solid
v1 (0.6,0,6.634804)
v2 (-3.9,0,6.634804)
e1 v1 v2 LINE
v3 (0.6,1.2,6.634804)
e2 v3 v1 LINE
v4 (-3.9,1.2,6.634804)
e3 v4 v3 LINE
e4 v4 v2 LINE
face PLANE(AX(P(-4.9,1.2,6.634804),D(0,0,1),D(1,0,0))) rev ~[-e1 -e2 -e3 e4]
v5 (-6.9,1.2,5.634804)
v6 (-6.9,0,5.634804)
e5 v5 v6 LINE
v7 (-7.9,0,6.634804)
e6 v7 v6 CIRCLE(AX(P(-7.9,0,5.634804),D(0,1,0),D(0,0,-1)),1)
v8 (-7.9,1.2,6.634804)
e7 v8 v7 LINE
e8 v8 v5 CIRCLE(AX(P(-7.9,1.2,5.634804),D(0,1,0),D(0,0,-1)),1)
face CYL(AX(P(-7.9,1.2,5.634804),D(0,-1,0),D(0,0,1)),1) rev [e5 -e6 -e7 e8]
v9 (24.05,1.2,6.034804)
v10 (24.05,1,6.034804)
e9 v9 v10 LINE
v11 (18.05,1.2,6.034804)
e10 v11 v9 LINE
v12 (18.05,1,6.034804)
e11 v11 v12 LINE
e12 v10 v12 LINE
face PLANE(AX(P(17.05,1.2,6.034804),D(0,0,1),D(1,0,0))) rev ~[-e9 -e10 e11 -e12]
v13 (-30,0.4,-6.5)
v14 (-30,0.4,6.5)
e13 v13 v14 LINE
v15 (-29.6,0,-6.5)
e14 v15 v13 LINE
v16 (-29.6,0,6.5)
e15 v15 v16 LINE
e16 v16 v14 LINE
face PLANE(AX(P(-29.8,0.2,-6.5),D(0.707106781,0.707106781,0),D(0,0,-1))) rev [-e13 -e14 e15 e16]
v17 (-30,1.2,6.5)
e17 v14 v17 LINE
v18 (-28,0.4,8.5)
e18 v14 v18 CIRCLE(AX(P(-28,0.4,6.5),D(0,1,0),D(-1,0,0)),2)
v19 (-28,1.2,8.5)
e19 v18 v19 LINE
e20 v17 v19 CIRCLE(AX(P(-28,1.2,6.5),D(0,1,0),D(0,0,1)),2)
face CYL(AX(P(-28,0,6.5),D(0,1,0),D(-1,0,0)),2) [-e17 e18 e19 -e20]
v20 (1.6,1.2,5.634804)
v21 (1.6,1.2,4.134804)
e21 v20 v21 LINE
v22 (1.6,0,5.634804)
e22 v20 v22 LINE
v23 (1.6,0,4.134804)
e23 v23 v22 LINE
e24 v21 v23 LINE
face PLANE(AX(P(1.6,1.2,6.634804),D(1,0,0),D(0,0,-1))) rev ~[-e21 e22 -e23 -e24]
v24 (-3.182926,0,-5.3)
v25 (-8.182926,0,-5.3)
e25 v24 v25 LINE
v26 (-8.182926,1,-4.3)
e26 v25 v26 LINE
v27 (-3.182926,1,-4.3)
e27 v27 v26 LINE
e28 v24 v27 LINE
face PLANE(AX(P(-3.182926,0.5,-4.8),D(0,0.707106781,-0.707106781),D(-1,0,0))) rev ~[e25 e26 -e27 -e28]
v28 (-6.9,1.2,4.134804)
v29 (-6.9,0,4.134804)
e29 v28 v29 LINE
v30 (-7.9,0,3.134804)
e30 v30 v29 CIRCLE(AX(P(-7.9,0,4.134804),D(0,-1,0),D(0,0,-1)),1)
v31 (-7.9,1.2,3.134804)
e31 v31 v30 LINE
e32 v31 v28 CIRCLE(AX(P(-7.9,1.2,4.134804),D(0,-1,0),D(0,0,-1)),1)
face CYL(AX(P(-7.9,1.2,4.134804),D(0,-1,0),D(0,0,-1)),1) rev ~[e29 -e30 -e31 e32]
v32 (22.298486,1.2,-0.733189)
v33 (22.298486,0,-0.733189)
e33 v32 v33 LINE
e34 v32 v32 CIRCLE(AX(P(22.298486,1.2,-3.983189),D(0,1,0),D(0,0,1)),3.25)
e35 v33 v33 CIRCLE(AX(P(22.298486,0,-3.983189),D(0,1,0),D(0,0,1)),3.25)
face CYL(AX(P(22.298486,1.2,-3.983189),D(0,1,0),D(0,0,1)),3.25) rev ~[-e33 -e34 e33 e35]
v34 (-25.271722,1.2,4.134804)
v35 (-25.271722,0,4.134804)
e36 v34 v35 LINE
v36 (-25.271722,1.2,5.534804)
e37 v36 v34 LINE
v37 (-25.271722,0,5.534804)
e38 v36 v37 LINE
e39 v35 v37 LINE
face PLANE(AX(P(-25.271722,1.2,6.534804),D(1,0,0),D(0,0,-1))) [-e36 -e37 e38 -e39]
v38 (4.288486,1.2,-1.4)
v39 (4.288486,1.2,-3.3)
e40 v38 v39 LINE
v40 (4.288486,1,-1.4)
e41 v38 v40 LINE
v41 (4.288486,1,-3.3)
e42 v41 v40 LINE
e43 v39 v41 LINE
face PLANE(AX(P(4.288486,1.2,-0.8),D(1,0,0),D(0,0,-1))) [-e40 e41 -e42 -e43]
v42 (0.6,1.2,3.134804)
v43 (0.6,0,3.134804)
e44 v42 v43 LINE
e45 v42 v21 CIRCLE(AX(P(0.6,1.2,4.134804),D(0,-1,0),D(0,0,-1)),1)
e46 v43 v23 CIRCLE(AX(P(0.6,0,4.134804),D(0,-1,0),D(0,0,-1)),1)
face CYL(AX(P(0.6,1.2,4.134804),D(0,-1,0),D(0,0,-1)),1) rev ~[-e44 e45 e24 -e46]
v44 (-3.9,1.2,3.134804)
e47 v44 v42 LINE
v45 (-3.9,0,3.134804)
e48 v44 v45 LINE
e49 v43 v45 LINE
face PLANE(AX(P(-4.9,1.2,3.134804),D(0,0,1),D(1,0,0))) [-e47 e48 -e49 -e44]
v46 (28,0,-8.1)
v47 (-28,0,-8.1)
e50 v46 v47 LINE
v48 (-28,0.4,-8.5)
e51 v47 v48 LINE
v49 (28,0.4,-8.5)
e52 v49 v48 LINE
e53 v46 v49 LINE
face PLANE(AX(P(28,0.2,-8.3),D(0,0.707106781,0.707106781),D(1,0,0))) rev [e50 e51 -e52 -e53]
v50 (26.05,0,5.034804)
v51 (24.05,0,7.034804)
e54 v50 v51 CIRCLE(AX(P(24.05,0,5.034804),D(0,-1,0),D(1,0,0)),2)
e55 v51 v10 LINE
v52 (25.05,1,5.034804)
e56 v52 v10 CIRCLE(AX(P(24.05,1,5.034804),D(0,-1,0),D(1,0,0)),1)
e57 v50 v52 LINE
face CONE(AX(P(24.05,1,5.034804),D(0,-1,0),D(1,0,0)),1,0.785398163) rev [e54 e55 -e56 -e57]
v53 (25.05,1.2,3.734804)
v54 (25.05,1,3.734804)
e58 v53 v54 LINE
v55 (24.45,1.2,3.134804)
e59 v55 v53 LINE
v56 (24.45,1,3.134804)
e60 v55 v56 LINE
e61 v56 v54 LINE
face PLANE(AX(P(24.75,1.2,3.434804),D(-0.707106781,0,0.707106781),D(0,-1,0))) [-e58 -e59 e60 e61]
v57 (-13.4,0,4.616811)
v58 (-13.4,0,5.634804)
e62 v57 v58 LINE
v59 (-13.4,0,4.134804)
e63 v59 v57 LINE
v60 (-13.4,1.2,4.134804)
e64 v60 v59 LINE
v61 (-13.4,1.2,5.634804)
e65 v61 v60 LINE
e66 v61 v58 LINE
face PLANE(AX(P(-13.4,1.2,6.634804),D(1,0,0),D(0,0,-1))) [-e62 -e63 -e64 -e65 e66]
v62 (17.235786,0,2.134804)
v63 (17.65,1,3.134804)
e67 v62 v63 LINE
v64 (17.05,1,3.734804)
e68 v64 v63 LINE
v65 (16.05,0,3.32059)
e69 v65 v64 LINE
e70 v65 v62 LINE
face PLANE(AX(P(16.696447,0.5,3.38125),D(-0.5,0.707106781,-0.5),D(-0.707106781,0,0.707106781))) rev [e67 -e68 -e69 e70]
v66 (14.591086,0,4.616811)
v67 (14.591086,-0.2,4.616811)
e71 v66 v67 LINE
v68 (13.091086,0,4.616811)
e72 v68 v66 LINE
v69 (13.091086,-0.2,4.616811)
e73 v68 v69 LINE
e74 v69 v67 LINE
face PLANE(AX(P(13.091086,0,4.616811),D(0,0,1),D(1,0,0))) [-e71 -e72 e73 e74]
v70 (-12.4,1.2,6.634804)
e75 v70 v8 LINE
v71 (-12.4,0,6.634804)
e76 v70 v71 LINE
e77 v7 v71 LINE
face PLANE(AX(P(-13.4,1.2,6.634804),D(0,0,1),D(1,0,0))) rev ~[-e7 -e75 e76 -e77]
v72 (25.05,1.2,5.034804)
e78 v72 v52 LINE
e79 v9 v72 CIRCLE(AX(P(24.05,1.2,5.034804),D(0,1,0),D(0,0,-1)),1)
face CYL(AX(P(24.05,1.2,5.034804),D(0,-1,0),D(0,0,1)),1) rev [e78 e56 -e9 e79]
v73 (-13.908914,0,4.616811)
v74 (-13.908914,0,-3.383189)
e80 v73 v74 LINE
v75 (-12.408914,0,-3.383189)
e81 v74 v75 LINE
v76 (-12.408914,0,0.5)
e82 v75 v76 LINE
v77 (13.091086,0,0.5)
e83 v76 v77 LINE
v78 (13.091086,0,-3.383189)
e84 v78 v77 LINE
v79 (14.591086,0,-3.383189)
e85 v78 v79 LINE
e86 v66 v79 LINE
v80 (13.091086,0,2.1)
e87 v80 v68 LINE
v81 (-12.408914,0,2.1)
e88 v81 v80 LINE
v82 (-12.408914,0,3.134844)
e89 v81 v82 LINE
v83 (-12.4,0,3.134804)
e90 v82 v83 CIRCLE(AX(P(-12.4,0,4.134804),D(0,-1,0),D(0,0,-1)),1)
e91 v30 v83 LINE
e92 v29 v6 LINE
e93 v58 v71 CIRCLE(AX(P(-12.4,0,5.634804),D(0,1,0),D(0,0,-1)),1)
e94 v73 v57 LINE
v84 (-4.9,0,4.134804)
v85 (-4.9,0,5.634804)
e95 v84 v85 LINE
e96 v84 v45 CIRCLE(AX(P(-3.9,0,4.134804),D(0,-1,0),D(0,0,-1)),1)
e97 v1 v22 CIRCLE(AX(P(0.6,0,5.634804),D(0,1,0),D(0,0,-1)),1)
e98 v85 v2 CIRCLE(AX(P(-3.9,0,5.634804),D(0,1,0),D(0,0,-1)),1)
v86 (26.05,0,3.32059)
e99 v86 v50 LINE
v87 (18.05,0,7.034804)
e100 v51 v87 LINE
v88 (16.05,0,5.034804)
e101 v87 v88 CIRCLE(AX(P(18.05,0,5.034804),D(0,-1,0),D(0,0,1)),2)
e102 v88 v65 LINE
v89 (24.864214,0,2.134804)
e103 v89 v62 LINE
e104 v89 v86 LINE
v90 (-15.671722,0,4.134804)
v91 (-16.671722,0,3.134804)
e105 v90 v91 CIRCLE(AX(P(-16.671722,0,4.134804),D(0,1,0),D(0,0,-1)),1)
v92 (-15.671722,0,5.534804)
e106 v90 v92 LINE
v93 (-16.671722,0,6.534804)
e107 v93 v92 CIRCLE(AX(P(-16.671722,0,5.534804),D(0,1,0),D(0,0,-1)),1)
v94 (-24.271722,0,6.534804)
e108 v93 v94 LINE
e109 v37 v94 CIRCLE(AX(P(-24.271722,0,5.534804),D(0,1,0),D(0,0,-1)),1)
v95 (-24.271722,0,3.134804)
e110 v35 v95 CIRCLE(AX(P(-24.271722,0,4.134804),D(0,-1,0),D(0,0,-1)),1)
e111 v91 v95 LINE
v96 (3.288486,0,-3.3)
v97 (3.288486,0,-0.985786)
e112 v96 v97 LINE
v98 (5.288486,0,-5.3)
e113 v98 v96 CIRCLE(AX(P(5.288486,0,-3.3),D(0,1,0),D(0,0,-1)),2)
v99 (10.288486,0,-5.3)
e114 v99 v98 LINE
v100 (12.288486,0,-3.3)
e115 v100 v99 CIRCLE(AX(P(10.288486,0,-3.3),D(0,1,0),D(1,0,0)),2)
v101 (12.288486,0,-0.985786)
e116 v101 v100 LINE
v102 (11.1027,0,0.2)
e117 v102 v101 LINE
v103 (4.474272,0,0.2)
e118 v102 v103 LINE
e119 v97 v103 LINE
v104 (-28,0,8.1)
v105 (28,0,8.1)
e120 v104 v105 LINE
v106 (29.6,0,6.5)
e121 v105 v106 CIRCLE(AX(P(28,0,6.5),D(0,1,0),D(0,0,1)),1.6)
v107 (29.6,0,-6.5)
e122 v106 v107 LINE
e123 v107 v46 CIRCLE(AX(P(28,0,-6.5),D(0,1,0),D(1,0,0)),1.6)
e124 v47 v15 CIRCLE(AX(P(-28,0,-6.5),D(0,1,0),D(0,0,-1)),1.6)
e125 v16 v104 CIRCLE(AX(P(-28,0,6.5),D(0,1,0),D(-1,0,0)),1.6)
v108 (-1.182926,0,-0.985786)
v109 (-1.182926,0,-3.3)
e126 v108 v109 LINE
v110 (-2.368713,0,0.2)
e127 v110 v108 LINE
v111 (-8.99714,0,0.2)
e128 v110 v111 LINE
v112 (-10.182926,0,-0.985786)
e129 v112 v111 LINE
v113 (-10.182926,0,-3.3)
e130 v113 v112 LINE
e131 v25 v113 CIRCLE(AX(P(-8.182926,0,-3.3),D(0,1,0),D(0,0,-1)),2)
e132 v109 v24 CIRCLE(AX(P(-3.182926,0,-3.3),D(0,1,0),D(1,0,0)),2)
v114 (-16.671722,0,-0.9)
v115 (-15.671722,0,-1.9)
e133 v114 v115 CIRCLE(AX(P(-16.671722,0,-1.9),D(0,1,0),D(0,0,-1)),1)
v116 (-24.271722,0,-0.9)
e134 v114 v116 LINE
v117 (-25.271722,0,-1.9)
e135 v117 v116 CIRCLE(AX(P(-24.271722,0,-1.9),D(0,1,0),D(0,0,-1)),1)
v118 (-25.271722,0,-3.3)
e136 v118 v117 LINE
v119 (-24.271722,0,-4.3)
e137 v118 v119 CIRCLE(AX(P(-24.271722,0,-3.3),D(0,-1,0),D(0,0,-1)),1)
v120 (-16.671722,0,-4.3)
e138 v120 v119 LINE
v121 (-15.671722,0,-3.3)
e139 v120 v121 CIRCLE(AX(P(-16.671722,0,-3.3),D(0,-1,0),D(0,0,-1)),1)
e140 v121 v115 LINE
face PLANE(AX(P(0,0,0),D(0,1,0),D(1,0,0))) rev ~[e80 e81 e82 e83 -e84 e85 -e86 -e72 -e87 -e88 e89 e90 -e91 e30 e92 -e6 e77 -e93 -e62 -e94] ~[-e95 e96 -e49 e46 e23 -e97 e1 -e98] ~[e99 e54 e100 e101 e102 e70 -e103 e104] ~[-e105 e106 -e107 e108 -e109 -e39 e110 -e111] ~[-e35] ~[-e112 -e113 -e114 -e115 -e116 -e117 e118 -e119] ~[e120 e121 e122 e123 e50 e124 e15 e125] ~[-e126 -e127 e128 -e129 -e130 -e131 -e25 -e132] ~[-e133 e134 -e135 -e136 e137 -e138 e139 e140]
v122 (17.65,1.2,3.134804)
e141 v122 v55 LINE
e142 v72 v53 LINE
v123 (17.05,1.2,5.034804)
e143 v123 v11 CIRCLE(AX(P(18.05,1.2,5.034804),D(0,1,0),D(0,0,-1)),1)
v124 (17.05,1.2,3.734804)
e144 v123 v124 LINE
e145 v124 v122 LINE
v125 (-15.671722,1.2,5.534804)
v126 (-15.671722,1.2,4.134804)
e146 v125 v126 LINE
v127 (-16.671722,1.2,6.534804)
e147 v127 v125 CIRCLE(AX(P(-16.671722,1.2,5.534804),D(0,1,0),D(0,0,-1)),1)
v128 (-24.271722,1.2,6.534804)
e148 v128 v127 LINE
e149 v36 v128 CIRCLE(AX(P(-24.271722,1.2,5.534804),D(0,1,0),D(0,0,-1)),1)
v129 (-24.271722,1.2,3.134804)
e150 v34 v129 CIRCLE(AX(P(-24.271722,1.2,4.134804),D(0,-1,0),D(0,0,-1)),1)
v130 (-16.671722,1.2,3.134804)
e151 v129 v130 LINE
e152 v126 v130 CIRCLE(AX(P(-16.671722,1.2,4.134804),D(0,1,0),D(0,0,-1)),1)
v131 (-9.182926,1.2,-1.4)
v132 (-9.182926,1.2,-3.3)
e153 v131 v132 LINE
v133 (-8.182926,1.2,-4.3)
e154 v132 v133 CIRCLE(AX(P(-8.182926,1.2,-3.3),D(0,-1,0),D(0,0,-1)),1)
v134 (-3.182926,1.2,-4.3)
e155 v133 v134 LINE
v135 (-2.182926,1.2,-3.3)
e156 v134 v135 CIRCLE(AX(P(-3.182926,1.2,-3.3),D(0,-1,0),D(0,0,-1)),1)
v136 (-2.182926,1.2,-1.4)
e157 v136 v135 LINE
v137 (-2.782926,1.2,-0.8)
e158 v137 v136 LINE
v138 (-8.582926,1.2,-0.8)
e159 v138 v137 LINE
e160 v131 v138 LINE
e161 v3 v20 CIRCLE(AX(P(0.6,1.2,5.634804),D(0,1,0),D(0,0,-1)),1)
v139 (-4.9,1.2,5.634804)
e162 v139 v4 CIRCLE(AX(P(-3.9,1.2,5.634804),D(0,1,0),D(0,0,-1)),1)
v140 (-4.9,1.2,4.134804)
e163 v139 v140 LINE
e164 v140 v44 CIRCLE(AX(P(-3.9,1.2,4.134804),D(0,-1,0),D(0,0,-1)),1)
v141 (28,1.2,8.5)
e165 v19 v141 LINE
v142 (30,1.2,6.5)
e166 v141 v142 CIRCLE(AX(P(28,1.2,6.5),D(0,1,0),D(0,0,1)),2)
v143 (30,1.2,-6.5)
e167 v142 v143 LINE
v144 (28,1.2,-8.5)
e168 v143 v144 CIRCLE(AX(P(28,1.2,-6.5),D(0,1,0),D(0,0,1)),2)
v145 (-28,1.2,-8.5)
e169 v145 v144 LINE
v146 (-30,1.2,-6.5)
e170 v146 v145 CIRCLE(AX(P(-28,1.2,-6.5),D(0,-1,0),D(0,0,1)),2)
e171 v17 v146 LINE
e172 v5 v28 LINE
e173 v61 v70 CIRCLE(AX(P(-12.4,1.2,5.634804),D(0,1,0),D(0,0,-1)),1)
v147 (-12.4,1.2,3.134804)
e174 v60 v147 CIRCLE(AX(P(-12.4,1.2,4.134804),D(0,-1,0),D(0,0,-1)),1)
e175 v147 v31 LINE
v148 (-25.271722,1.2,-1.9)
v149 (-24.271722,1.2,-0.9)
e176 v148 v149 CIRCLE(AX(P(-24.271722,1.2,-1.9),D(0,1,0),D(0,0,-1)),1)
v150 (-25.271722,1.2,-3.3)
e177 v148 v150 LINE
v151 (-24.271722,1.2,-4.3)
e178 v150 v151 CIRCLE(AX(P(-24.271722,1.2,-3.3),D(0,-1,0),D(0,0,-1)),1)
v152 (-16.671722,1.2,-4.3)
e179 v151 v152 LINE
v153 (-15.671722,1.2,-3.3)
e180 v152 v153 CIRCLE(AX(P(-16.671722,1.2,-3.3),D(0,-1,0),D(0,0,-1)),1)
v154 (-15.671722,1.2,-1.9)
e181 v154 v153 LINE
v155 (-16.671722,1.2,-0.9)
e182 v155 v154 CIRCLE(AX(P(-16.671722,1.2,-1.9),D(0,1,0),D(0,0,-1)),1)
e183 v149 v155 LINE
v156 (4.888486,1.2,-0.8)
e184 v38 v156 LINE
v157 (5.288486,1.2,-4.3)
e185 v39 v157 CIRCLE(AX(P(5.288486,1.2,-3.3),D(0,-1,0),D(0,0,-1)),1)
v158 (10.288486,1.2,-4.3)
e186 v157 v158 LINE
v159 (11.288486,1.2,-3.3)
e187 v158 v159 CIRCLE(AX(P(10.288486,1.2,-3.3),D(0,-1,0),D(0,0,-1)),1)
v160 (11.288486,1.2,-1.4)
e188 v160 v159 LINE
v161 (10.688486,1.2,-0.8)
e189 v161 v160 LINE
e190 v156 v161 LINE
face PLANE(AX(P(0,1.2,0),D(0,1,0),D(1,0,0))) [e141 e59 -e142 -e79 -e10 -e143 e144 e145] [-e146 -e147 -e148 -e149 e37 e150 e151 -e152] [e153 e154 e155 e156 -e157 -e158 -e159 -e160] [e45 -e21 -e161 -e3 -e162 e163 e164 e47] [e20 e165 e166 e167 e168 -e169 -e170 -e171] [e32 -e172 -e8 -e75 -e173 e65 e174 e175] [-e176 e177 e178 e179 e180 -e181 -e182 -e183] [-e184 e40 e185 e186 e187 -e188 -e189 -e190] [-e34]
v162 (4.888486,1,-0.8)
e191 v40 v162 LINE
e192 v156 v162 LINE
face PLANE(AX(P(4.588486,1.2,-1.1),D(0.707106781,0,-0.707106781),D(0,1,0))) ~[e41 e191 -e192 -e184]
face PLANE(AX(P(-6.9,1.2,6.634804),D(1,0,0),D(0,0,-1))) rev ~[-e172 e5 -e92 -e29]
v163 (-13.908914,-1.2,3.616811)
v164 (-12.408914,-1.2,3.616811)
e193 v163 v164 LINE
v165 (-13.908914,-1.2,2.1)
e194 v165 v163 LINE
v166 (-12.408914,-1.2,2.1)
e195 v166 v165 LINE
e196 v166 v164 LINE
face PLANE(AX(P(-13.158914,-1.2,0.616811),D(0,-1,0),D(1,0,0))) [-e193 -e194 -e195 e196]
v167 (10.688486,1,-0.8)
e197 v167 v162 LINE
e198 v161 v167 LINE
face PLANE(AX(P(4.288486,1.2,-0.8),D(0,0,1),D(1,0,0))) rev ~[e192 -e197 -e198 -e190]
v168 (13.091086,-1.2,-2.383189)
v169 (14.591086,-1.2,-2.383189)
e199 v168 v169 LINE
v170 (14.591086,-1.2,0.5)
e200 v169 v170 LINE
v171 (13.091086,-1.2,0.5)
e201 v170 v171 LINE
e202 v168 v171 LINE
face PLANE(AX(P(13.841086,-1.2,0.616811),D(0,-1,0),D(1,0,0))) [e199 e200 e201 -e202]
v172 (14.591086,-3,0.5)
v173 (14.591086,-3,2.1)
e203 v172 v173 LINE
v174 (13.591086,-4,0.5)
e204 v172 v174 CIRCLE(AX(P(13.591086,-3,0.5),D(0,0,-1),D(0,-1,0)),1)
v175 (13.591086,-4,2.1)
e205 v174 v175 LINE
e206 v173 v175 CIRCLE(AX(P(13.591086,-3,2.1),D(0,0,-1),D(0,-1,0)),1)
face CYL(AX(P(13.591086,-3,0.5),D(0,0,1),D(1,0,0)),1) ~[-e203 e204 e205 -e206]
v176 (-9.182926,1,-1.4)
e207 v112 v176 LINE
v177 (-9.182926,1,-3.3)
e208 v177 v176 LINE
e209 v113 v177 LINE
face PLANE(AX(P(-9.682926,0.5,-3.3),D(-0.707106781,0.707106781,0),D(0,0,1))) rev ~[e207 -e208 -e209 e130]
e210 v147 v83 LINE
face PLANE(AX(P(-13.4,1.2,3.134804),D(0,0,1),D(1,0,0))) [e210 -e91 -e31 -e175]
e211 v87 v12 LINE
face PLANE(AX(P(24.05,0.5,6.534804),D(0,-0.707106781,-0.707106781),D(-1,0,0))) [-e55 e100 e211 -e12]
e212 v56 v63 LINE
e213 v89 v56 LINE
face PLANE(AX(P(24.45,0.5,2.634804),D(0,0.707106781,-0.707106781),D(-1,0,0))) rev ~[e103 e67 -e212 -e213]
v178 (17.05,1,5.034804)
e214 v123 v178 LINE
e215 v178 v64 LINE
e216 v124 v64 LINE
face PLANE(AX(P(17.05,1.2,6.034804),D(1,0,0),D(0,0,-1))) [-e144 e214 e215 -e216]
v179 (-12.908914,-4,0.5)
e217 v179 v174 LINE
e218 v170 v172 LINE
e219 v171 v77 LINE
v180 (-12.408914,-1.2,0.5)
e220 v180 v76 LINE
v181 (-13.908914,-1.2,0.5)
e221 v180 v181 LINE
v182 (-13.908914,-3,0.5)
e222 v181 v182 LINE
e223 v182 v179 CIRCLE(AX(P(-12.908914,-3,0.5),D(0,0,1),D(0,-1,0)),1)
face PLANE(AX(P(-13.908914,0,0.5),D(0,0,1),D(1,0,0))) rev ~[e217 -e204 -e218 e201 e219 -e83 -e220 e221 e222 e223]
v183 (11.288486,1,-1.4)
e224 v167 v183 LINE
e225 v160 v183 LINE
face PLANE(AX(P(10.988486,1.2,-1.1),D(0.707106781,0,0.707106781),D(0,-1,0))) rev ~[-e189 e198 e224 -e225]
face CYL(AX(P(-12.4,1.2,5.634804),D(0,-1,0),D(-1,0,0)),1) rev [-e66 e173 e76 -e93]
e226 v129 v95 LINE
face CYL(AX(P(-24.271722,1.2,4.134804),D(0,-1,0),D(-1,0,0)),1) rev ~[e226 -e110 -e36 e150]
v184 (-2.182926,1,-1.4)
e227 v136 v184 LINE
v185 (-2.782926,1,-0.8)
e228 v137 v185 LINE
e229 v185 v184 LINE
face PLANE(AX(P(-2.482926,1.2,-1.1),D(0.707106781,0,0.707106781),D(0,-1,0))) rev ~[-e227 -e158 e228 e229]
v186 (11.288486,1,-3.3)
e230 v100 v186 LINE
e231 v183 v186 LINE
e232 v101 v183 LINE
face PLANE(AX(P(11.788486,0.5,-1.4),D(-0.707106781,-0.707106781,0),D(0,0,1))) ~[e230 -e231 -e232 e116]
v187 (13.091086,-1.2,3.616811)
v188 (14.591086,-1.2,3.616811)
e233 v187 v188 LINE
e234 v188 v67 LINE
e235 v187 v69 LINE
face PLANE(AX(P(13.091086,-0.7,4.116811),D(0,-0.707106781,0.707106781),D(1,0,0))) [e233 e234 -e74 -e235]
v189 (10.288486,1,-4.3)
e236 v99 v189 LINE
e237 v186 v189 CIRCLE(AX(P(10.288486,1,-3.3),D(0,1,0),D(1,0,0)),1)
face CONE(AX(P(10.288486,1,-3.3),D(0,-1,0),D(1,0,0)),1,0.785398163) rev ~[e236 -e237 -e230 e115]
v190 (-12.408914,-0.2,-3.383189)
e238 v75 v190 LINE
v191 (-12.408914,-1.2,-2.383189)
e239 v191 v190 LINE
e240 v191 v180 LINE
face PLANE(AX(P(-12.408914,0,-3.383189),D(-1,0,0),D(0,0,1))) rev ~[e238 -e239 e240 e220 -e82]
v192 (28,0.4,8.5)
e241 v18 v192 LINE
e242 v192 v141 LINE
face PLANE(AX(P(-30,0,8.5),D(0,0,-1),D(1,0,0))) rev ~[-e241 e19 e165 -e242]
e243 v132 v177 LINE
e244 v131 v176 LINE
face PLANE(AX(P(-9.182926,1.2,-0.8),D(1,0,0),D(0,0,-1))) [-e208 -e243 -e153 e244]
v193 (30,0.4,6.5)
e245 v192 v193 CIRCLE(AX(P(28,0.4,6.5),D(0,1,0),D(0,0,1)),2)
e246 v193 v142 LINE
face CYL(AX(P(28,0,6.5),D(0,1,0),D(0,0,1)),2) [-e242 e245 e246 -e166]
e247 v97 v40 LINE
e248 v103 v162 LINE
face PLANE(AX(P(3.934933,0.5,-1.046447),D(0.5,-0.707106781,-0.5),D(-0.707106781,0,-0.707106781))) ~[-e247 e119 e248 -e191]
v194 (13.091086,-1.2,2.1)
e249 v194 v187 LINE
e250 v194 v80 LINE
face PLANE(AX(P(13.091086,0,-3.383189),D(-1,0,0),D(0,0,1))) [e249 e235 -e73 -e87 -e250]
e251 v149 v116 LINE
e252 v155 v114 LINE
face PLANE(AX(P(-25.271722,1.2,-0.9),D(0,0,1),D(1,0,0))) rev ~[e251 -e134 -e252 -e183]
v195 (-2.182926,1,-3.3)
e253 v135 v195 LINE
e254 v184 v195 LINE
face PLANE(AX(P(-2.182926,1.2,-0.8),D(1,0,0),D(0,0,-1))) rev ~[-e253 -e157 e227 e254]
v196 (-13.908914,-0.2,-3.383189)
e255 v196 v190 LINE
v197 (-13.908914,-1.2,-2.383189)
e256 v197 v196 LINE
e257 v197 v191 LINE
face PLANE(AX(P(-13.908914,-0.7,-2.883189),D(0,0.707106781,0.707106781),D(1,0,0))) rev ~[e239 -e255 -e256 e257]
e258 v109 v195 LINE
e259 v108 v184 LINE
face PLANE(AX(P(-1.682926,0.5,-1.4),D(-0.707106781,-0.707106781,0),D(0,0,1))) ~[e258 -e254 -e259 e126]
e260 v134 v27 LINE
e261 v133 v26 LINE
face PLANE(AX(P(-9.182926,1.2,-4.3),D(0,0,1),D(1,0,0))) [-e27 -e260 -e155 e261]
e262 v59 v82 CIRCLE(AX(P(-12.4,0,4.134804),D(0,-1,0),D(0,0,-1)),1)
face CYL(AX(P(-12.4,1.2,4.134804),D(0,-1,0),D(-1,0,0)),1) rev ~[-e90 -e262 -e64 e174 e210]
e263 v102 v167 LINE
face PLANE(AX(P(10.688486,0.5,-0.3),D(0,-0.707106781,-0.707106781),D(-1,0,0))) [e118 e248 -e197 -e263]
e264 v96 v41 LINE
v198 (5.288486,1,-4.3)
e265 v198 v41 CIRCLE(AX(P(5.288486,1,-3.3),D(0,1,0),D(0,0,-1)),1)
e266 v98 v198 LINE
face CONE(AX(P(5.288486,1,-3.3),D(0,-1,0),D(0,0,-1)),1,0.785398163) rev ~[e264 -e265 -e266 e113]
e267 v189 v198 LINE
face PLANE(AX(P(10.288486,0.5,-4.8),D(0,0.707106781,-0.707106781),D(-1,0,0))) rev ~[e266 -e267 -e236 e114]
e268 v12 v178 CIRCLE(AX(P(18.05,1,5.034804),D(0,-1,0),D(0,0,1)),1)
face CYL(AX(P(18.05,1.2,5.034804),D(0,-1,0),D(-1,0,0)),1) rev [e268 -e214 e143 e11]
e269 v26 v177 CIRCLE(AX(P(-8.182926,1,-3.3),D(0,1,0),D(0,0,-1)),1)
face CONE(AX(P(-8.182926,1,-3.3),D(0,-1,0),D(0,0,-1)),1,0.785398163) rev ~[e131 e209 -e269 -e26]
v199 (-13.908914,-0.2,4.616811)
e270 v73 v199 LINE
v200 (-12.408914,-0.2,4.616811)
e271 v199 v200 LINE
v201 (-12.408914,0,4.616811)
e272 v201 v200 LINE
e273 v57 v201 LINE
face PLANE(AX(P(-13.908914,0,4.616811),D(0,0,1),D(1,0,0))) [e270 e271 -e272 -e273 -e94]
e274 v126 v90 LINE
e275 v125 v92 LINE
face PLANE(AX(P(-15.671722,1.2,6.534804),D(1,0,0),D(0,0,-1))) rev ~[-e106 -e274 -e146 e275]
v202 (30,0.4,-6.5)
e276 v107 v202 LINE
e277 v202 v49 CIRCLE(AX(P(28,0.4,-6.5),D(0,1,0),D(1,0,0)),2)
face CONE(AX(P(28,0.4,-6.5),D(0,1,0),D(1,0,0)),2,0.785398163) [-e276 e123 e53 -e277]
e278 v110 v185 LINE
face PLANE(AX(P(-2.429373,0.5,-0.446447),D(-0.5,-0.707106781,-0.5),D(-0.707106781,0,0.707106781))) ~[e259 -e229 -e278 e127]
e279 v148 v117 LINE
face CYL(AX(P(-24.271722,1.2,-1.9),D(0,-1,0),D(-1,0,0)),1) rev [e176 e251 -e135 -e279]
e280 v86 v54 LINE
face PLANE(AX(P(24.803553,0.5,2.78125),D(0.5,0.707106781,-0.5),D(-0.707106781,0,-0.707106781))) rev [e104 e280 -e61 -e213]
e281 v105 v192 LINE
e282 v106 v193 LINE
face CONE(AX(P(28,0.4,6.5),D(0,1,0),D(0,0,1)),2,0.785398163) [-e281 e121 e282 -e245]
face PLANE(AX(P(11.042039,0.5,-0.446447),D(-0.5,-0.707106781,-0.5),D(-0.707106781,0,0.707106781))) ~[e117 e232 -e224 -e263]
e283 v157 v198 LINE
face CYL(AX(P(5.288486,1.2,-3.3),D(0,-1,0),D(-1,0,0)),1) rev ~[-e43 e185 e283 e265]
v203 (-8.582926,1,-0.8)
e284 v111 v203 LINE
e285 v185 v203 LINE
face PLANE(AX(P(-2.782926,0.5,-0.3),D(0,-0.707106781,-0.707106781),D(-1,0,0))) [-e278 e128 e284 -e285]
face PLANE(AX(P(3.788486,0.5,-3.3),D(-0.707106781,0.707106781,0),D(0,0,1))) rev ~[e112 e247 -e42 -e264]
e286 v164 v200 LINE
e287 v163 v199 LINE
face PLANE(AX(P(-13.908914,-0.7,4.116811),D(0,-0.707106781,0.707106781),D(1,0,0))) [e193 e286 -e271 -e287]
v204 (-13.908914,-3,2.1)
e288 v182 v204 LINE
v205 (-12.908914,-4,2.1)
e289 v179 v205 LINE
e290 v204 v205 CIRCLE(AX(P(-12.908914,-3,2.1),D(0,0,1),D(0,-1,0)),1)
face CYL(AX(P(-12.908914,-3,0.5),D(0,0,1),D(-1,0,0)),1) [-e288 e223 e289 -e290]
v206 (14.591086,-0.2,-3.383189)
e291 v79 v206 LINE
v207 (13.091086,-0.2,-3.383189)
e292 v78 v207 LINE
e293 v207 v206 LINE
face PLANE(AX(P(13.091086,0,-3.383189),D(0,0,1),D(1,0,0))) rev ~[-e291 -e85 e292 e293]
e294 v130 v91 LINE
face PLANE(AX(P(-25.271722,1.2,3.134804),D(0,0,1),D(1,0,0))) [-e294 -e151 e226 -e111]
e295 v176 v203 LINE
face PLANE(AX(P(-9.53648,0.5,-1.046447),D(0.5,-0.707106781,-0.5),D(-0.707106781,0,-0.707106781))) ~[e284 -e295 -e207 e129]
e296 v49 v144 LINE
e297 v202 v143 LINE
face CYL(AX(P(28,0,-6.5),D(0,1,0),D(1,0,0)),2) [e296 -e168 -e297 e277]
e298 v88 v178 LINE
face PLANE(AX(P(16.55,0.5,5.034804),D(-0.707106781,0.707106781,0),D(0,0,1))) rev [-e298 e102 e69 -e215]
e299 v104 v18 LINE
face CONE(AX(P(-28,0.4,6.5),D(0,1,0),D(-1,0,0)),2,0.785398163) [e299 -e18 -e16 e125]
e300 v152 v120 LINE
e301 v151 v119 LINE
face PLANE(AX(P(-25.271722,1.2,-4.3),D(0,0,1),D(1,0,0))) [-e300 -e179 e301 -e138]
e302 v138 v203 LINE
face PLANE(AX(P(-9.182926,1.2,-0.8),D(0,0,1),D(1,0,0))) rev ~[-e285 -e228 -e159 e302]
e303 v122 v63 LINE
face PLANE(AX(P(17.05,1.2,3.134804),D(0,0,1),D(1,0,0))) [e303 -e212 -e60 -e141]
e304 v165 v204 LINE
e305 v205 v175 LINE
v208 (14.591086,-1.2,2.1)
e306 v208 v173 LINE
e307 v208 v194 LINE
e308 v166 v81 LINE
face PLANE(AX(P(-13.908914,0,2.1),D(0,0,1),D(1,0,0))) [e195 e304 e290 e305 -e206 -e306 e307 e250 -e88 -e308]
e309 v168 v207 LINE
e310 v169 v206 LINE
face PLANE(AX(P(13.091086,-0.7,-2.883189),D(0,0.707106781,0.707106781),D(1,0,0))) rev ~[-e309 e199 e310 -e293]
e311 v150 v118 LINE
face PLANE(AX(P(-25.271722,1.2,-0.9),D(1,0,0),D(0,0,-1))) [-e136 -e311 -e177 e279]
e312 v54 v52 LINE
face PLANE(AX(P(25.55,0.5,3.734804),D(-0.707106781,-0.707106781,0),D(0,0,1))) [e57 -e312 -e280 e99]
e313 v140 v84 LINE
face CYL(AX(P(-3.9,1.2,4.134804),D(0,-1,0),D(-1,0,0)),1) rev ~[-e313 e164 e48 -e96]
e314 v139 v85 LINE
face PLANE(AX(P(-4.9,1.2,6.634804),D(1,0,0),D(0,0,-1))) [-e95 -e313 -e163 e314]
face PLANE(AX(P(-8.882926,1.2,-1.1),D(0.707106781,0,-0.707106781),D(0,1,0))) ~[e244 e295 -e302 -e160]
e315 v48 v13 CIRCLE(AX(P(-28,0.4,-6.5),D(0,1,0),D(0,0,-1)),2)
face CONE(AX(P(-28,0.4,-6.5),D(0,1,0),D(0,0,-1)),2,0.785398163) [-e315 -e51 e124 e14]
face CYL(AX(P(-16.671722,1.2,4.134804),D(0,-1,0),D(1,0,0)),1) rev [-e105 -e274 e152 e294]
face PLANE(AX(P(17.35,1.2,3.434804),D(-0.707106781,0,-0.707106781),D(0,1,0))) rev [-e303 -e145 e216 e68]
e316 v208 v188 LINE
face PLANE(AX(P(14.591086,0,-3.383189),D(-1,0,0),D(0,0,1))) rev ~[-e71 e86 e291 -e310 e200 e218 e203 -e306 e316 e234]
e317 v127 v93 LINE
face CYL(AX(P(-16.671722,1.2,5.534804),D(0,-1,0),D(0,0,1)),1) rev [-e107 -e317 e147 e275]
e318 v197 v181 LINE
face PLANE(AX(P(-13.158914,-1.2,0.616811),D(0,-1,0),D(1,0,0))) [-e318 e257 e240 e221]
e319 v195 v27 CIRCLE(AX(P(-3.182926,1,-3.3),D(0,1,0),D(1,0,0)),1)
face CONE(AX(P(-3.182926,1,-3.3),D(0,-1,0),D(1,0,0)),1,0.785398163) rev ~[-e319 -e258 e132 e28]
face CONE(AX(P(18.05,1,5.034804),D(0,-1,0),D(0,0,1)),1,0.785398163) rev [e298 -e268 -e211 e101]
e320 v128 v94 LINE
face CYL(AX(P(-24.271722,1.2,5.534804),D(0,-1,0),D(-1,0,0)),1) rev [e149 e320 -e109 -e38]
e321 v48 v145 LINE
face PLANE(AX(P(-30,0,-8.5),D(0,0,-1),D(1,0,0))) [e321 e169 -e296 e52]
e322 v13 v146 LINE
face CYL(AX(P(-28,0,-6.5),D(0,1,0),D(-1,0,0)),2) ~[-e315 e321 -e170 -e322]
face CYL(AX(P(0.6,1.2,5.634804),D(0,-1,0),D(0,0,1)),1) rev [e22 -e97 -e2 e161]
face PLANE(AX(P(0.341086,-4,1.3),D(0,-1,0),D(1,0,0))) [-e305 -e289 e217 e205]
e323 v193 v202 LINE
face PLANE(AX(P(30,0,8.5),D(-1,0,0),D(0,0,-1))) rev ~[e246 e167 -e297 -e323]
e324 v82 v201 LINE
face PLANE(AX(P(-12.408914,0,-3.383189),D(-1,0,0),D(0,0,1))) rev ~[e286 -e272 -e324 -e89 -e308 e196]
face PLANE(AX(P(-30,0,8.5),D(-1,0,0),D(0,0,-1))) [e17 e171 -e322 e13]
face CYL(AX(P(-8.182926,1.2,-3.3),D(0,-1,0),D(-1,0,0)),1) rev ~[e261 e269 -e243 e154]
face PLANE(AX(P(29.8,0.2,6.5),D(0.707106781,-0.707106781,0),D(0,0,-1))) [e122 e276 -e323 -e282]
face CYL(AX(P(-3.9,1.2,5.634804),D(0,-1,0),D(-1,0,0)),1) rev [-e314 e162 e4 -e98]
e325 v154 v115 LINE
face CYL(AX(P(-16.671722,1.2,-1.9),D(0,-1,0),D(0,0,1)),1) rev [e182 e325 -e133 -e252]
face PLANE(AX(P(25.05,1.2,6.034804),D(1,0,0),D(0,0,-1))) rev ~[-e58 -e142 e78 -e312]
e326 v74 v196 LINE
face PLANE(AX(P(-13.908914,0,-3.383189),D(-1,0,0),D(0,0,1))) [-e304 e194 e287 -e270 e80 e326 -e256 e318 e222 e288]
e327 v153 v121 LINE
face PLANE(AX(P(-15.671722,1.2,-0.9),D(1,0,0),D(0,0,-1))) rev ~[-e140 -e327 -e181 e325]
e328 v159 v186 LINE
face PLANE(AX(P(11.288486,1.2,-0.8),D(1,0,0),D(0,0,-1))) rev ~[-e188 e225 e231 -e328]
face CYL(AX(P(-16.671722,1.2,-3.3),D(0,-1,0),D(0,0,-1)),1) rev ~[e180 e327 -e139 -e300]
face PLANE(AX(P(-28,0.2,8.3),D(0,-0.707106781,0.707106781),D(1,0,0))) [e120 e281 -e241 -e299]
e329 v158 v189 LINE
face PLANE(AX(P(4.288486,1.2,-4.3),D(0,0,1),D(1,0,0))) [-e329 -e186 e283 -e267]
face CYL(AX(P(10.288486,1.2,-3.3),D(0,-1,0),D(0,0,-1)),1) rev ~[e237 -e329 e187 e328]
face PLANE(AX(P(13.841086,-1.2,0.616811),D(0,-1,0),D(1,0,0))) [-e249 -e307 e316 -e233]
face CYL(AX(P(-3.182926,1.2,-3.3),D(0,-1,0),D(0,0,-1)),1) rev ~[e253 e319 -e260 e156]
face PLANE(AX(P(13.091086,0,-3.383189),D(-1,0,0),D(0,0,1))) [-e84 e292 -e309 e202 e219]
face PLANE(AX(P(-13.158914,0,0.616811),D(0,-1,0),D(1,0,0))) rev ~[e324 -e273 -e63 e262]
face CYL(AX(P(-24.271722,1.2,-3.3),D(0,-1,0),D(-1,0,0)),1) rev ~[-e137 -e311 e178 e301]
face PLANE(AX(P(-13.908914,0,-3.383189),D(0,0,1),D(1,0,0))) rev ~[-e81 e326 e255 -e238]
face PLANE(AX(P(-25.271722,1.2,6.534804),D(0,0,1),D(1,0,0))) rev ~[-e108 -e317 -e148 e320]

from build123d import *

# Parameters (mm, degrees)
SKETCH_1_W          = 60
SKETCH_1_H          = 17
EXTRUDE_1_DEPTH     = 1.2
CUT_EXTRUDE_1_REACH = 33.204
SKETCH_4_R          = 3.25
SKETCH_4_W          = 9.6
SKETCH_4_H          = 3.4
SKETCH_4_W_2        = 7
SKETCH_4_H_2        = 3.5
SKETCH_4_W_3        = 8
SKETCH_4_H_3        = 2.9
SKETCH_4_W_4        = 6.5
FILLET_2_R          = 1
CHAMFER_1_SIZE      = 0.6
SKETCH_5_W          = 1.5
SKETCH_5_H          = 8
EXTRUDE_2_DEPTH     = 1.2
SKETCH_6_W          = 28.5
SKETCH_6_H          = 1.6
EXTRUDE_3_DEPTH     = 4
FILLET_3_R          = 1
CHAMFER_2_SIZE      = 1
CHAMFER_4_SIZE      = 1
FILLET_4_R          = 2
CHAMFER_5_SIZE      = 0.4


with BuildPart() as part:
    # 草图1 → 凸台-拉伸1 (new body)
    with BuildSketch(Plane(origin=(0, 0, 0), x_dir=(1, 0, 0), z_dir=(0, 1, 0))):
        Rectangle(SKETCH_1_W, SKETCH_1_H)
    extrude(amount=EXTRUDE_1_DEPTH)

    # 草图4 → 切除-拉伸1 (cut, up to next)
    with BuildSketch(Plane(origin=(0, 1.2, 0), x_dir=(1, 0, 0), z_dir=(0, 1, 0)), mode=Mode.PRIVATE) as cut_extrude_1_sk1:
        with Locations(Location((22.298485985, 3.98318929, 0), (0, 0, 270))):
            Circle(SKETCH_4_R)
    cut_extrude_1_tool1 = extrude(cut_extrude_1_sk1.sketch, amount=-CUT_EXTRUDE_1_REACH, mode=Mode.PRIVATE) & part.part
    # 草图4 → 切除-拉伸1 (cut, up to next)
    with BuildSketch(Plane(origin=(0, 1.2, 0), x_dir=(1, 0, 0), z_dir=(0, 1, 0)), mode=Mode.PRIVATE) as cut_extrude_1_sk2:
        with Locations((-20.471722325, 2.6)):
            Rectangle(SKETCH_4_W, SKETCH_4_H)
    cut_extrude_1_tool2 = extrude(cut_extrude_1_sk2.sketch, amount=-CUT_EXTRUDE_1_REACH, mode=Mode.PRIVATE) & part.part
    # 草图4 → 切除-拉伸1 (cut, up to next)
    with BuildSketch(Plane(origin=(0, 1.2, 0), x_dir=(1, 0, 0), z_dir=(0, 1, 0)), mode=Mode.PRIVATE) as cut_extrude_1_sk3:
        with Locations((-5.682926277, 2.55)):
            Rectangle(SKETCH_4_W_2, SKETCH_4_H_2)
    cut_extrude_1_tool3 = extrude(cut_extrude_1_sk3.sketch, amount=-CUT_EXTRUDE_1_REACH, mode=Mode.PRIVATE) & part.part
    # 草图4 → 切除-拉伸1 (cut, up to next)
    with BuildSketch(Plane(origin=(0, 1.2, 0), x_dir=(1, 0, 0), z_dir=(0, 1, 0)), mode=Mode.PRIVATE) as cut_extrude_1_sk4:
        with Locations((7.788485985, 2.55)):
            Rectangle(SKETCH_4_W_2, SKETCH_4_H_2)
    cut_extrude_1_tool4 = extrude(cut_extrude_1_sk4.sketch, amount=-CUT_EXTRUDE_1_REACH, mode=Mode.PRIVATE) & part.part
    # 草图4 → 切除-拉伸1 (cut, up to next)
    with BuildSketch(Plane(origin=(0, 1.2, 0), x_dir=(1, 0, 0), z_dir=(0, 1, 0)), mode=Mode.PRIVATE) as cut_extrude_1_sk5:
        with Locations((21.05, -4.584803861)):
            Rectangle(SKETCH_4_W_3, SKETCH_4_H_3)
    cut_extrude_1_tool5 = extrude(cut_extrude_1_sk5.sketch, amount=-CUT_EXTRUDE_1_REACH, mode=Mode.PRIVATE) & part.part
    # 草图4 → 切除-拉伸1 (cut, up to next)
    with BuildSketch(Plane(origin=(0, 1.2, 0), x_dir=(1, 0, 0), z_dir=(0, 1, 0)), mode=Mode.PRIVATE) as cut_extrude_1_sk6:
        with Locations((-1.65, -4.884803861)):
            Rectangle(SKETCH_4_W_4, SKETCH_4_H_2)
    cut_extrude_1_tool6 = extrude(cut_extrude_1_sk6.sketch, amount=-CUT_EXTRUDE_1_REACH, mode=Mode.PRIVATE) & part.part
    # 草图4 → 切除-拉伸1 (cut, up to next)
    with BuildSketch(Plane(origin=(0, 1.2, 0), x_dir=(1, 0, 0), z_dir=(0, 1, 0)), mode=Mode.PRIVATE) as cut_extrude_1_sk7:
        with Locations((-10.15, -4.884803861)):
            Rectangle(SKETCH_4_W_4, SKETCH_4_H_2)
    cut_extrude_1_tool7 = extrude(cut_extrude_1_sk7.sketch, amount=-CUT_EXTRUDE_1_REACH, mode=Mode.PRIVATE) & part.part
    # 草图4 → 切除-拉伸1 (cut, up to next)
    with BuildSketch(Plane(origin=(0, 1.2, 0), x_dir=(1, 0, 0), z_dir=(0, 1, 0)), mode=Mode.PRIVATE) as cut_extrude_1_sk8:
        with Locations((-20.471722325, -4.834803861)):
            Rectangle(SKETCH_4_W, SKETCH_4_H)
    cut_extrude_1_tool8 = extrude(cut_extrude_1_sk8.sketch, amount=-CUT_EXTRUDE_1_REACH, mode=Mode.PRIVATE) & part.part
    add(cut_extrude_1_tool1.solids().sort_by_distance((22.298486, 1.2, -3.983189))[0], mode=Mode.SUBTRACT)
    add(cut_extrude_1_tool2.solids().sort_by_distance((-20.471722, 1.2, -2.6))[0], mode=Mode.SUBTRACT)
    add(cut_extrude_1_tool3.solids().sort_by_distance((-5.682926, 1.2, -2.55))[0], mode=Mode.SUBTRACT)
    add(cut_extrude_1_tool4.solids().sort_by_distance((7.788486, 1.2, -2.55))[0], mode=Mode.SUBTRACT)
    add(cut_extrude_1_tool5.solids().sort_by_distance((21.05, 1.2, 4.584804))[0], mode=Mode.SUBTRACT)
    add(cut_extrude_1_tool6.solids().sort_by_distance((-1.65, 1.2, 4.884804))[0], mode=Mode.SUBTRACT)
    add(cut_extrude_1_tool7.solids().sort_by_distance((-10.15, 1.2, 4.884804))[0], mode=Mode.SUBTRACT)
    add(cut_extrude_1_tool8.solids().sort_by_distance((-20.471722, 1.2, 4.834804))[0], mode=Mode.SUBTRACT)

    # 圆角2
    fillet_2_edges = [part.edges().sort_by_distance(p)[0] for p in [
        (-9.182926277, 0.6, -4.3),
        (-2.182926277, 0.6, -4.3),
        (4.288485985, 0.6, -4.3),
        (11.288485985, 0.6, -4.3),
        (17.05, 0.6, 6.034803861),
        (25.05, 0.6, 6.034803861),
        (-4.9, 0.6, 6.634803861),
        (-4.9, 0.6, 3.134803861),
        (1.6, 0.6, 3.134803861),
        (1.6, 0.6, 6.634803861),
        (-13.4, 0.6, 6.634803861),
        (-13.4, 0.6, 3.134803861),
        (-6.9, 0.6, 3.134803861),
        (-6.9, 0.6, 6.634803861),
        (-25.271722325, 0.6, 6.534803861),
        (-25.271722325, 0.6, 3.134803861),
        (-15.671722325, 0.6, 3.134803861),
        (-15.671722325, 0.6, 6.534803861),
        (-25.271722325, 0.6, -0.9),
        (-25.271722325, 0.6, -4.3),
        (-15.671722325, 0.6, -4.3),
        (-15.671722325, 0.6, -0.9),
    ]]
    fillet(fillet_2_edges, radius=FILLET_2_R)

    # 倒角1
    chamfer_1_edges = [part.edges().sort_by_distance(p)[0] for p in [
        (-9.182926277, 0.6, -0.8),
        (-2.182926277, 0.6, -0.8),
        (4.288485985, 0.6, -0.8),
        (11.288485985, 0.6, -0.8),
        (17.05, 0.6, 3.134803861),
        (25.05, 0.6, 3.134803861),
    ]]
    chamfer(chamfer_1_edges, length=CHAMFER_1_SIZE)

    # 草图5 → 凸台-拉伸2 (add)
    with BuildSketch(Plane.XZ):
        with Locations((-13.15891381, 0.61681071)):
            Rectangle(SKETCH_5_W, SKETCH_5_H)
        with Locations((13.84108619, 0.61681071)):
            Rectangle(SKETCH_5_W, SKETCH_5_H)
    extrude(amount=EXTRUDE_2_DEPTH)

    # 草图6 → 凸台-拉伸3 (add)
    with BuildSketch(Plane.XZ):
        with Locations((0.34108619, 1.3)):
            Rectangle(SKETCH_6_W, SKETCH_6_H)
    extrude(amount=EXTRUDE_3_DEPTH)

    # 圆角3
    fillet_3_edges = [part.edges().sort_by_distance(p)[0] for p in [
        (-13.90891381, -4, 1.3),
        (14.59108619, -4, 1.3),
    ]]
    fillet(fillet_3_edges, radius=FILLET_3_R)

    # 倒角2
    chamfer_2_edges = [part.edges().sort_by_distance(p)[0] for p in [
        (-13.15891381, -1.2, -3.38318929),
        (-13.15891381, -1.2, 4.61681071),
        (13.84108619, -1.2, -3.38318929),
        (13.84108619, -1.2, 4.61681071),
    ]]
    chamfer(chamfer_2_edges, length=CHAMFER_2_SIZE)

    # 倒角4
    chamfer_4_edges = [part.edges().sort_by_distance(p)[0] for p in [
        (-5.682926277, 0, -4.3),
        (-2.182926277, 0, -2.35),
        (7.788485985, 0, -4.3),
        (11.288485985, 0, -2.35),
        (21.05, 0, 6.034803861),
        (17.05, 0, 4.384803861),
        (-2.475819496, 0, -4.007106781),
        (-8.890033058, 0, -4.007106781),
        (4.581379204, 0, -4.007106781),
        (10.995592766, 0, -4.007106781),
        (24.757106781, 0, 5.741910642),
        (17.342893219, 0, 5.741910642),
        (-5.682926277, 0, -0.8),
        (-9.182926277, 0, -2.35),
        (7.788485985, 0, -0.8),
        (4.288485985, 0, -2.35),
        (21.05, 0, 3.134803861),
        (25.05, 0, 4.384803861),
        (-8.882926277, 0, -1.1),
        (-2.482926277, 0, -1.1),
        (4.588485985, 0, -1.1),
        (10.988485985, 0, -1.1),
        (17.35, 0, 3.434803861),
        (24.75, 0, 3.434803861),
    ]]
    chamfer(chamfer_4_edges, length=CHAMFER_4_SIZE)

    # 圆角4
    fillet_4_edges = [part.edges().sort_by_distance(p)[0] for p in [
        (30, 0.6, 8.5),
        (-30, 0.6, 8.5),
        (-30, 0.6, -8.5),
        (30, 0.6, -8.5),
    ]]
    fillet(fillet_4_edges, radius=FILLET_4_R)

    # 倒角5
    chamfer_5_edges = [part.edges().sort_by_distance(p)[0] for p in [
        (30, 0, 0),
        (0, 0, 8.5),
        (-30, 0, 0),
        (0, 0, -8.5),
        (-29.414213562, 0, -7.914213562),
        (-29.414213562, 0, 7.914213562),
        (29.414213562, 0, -7.914213562),
        (29.414213562, 0, 7.914213562),
    ]]
    chamfer(chamfer_5_edges, length=CHAMFER_5_SIZE)


solid = part.part
